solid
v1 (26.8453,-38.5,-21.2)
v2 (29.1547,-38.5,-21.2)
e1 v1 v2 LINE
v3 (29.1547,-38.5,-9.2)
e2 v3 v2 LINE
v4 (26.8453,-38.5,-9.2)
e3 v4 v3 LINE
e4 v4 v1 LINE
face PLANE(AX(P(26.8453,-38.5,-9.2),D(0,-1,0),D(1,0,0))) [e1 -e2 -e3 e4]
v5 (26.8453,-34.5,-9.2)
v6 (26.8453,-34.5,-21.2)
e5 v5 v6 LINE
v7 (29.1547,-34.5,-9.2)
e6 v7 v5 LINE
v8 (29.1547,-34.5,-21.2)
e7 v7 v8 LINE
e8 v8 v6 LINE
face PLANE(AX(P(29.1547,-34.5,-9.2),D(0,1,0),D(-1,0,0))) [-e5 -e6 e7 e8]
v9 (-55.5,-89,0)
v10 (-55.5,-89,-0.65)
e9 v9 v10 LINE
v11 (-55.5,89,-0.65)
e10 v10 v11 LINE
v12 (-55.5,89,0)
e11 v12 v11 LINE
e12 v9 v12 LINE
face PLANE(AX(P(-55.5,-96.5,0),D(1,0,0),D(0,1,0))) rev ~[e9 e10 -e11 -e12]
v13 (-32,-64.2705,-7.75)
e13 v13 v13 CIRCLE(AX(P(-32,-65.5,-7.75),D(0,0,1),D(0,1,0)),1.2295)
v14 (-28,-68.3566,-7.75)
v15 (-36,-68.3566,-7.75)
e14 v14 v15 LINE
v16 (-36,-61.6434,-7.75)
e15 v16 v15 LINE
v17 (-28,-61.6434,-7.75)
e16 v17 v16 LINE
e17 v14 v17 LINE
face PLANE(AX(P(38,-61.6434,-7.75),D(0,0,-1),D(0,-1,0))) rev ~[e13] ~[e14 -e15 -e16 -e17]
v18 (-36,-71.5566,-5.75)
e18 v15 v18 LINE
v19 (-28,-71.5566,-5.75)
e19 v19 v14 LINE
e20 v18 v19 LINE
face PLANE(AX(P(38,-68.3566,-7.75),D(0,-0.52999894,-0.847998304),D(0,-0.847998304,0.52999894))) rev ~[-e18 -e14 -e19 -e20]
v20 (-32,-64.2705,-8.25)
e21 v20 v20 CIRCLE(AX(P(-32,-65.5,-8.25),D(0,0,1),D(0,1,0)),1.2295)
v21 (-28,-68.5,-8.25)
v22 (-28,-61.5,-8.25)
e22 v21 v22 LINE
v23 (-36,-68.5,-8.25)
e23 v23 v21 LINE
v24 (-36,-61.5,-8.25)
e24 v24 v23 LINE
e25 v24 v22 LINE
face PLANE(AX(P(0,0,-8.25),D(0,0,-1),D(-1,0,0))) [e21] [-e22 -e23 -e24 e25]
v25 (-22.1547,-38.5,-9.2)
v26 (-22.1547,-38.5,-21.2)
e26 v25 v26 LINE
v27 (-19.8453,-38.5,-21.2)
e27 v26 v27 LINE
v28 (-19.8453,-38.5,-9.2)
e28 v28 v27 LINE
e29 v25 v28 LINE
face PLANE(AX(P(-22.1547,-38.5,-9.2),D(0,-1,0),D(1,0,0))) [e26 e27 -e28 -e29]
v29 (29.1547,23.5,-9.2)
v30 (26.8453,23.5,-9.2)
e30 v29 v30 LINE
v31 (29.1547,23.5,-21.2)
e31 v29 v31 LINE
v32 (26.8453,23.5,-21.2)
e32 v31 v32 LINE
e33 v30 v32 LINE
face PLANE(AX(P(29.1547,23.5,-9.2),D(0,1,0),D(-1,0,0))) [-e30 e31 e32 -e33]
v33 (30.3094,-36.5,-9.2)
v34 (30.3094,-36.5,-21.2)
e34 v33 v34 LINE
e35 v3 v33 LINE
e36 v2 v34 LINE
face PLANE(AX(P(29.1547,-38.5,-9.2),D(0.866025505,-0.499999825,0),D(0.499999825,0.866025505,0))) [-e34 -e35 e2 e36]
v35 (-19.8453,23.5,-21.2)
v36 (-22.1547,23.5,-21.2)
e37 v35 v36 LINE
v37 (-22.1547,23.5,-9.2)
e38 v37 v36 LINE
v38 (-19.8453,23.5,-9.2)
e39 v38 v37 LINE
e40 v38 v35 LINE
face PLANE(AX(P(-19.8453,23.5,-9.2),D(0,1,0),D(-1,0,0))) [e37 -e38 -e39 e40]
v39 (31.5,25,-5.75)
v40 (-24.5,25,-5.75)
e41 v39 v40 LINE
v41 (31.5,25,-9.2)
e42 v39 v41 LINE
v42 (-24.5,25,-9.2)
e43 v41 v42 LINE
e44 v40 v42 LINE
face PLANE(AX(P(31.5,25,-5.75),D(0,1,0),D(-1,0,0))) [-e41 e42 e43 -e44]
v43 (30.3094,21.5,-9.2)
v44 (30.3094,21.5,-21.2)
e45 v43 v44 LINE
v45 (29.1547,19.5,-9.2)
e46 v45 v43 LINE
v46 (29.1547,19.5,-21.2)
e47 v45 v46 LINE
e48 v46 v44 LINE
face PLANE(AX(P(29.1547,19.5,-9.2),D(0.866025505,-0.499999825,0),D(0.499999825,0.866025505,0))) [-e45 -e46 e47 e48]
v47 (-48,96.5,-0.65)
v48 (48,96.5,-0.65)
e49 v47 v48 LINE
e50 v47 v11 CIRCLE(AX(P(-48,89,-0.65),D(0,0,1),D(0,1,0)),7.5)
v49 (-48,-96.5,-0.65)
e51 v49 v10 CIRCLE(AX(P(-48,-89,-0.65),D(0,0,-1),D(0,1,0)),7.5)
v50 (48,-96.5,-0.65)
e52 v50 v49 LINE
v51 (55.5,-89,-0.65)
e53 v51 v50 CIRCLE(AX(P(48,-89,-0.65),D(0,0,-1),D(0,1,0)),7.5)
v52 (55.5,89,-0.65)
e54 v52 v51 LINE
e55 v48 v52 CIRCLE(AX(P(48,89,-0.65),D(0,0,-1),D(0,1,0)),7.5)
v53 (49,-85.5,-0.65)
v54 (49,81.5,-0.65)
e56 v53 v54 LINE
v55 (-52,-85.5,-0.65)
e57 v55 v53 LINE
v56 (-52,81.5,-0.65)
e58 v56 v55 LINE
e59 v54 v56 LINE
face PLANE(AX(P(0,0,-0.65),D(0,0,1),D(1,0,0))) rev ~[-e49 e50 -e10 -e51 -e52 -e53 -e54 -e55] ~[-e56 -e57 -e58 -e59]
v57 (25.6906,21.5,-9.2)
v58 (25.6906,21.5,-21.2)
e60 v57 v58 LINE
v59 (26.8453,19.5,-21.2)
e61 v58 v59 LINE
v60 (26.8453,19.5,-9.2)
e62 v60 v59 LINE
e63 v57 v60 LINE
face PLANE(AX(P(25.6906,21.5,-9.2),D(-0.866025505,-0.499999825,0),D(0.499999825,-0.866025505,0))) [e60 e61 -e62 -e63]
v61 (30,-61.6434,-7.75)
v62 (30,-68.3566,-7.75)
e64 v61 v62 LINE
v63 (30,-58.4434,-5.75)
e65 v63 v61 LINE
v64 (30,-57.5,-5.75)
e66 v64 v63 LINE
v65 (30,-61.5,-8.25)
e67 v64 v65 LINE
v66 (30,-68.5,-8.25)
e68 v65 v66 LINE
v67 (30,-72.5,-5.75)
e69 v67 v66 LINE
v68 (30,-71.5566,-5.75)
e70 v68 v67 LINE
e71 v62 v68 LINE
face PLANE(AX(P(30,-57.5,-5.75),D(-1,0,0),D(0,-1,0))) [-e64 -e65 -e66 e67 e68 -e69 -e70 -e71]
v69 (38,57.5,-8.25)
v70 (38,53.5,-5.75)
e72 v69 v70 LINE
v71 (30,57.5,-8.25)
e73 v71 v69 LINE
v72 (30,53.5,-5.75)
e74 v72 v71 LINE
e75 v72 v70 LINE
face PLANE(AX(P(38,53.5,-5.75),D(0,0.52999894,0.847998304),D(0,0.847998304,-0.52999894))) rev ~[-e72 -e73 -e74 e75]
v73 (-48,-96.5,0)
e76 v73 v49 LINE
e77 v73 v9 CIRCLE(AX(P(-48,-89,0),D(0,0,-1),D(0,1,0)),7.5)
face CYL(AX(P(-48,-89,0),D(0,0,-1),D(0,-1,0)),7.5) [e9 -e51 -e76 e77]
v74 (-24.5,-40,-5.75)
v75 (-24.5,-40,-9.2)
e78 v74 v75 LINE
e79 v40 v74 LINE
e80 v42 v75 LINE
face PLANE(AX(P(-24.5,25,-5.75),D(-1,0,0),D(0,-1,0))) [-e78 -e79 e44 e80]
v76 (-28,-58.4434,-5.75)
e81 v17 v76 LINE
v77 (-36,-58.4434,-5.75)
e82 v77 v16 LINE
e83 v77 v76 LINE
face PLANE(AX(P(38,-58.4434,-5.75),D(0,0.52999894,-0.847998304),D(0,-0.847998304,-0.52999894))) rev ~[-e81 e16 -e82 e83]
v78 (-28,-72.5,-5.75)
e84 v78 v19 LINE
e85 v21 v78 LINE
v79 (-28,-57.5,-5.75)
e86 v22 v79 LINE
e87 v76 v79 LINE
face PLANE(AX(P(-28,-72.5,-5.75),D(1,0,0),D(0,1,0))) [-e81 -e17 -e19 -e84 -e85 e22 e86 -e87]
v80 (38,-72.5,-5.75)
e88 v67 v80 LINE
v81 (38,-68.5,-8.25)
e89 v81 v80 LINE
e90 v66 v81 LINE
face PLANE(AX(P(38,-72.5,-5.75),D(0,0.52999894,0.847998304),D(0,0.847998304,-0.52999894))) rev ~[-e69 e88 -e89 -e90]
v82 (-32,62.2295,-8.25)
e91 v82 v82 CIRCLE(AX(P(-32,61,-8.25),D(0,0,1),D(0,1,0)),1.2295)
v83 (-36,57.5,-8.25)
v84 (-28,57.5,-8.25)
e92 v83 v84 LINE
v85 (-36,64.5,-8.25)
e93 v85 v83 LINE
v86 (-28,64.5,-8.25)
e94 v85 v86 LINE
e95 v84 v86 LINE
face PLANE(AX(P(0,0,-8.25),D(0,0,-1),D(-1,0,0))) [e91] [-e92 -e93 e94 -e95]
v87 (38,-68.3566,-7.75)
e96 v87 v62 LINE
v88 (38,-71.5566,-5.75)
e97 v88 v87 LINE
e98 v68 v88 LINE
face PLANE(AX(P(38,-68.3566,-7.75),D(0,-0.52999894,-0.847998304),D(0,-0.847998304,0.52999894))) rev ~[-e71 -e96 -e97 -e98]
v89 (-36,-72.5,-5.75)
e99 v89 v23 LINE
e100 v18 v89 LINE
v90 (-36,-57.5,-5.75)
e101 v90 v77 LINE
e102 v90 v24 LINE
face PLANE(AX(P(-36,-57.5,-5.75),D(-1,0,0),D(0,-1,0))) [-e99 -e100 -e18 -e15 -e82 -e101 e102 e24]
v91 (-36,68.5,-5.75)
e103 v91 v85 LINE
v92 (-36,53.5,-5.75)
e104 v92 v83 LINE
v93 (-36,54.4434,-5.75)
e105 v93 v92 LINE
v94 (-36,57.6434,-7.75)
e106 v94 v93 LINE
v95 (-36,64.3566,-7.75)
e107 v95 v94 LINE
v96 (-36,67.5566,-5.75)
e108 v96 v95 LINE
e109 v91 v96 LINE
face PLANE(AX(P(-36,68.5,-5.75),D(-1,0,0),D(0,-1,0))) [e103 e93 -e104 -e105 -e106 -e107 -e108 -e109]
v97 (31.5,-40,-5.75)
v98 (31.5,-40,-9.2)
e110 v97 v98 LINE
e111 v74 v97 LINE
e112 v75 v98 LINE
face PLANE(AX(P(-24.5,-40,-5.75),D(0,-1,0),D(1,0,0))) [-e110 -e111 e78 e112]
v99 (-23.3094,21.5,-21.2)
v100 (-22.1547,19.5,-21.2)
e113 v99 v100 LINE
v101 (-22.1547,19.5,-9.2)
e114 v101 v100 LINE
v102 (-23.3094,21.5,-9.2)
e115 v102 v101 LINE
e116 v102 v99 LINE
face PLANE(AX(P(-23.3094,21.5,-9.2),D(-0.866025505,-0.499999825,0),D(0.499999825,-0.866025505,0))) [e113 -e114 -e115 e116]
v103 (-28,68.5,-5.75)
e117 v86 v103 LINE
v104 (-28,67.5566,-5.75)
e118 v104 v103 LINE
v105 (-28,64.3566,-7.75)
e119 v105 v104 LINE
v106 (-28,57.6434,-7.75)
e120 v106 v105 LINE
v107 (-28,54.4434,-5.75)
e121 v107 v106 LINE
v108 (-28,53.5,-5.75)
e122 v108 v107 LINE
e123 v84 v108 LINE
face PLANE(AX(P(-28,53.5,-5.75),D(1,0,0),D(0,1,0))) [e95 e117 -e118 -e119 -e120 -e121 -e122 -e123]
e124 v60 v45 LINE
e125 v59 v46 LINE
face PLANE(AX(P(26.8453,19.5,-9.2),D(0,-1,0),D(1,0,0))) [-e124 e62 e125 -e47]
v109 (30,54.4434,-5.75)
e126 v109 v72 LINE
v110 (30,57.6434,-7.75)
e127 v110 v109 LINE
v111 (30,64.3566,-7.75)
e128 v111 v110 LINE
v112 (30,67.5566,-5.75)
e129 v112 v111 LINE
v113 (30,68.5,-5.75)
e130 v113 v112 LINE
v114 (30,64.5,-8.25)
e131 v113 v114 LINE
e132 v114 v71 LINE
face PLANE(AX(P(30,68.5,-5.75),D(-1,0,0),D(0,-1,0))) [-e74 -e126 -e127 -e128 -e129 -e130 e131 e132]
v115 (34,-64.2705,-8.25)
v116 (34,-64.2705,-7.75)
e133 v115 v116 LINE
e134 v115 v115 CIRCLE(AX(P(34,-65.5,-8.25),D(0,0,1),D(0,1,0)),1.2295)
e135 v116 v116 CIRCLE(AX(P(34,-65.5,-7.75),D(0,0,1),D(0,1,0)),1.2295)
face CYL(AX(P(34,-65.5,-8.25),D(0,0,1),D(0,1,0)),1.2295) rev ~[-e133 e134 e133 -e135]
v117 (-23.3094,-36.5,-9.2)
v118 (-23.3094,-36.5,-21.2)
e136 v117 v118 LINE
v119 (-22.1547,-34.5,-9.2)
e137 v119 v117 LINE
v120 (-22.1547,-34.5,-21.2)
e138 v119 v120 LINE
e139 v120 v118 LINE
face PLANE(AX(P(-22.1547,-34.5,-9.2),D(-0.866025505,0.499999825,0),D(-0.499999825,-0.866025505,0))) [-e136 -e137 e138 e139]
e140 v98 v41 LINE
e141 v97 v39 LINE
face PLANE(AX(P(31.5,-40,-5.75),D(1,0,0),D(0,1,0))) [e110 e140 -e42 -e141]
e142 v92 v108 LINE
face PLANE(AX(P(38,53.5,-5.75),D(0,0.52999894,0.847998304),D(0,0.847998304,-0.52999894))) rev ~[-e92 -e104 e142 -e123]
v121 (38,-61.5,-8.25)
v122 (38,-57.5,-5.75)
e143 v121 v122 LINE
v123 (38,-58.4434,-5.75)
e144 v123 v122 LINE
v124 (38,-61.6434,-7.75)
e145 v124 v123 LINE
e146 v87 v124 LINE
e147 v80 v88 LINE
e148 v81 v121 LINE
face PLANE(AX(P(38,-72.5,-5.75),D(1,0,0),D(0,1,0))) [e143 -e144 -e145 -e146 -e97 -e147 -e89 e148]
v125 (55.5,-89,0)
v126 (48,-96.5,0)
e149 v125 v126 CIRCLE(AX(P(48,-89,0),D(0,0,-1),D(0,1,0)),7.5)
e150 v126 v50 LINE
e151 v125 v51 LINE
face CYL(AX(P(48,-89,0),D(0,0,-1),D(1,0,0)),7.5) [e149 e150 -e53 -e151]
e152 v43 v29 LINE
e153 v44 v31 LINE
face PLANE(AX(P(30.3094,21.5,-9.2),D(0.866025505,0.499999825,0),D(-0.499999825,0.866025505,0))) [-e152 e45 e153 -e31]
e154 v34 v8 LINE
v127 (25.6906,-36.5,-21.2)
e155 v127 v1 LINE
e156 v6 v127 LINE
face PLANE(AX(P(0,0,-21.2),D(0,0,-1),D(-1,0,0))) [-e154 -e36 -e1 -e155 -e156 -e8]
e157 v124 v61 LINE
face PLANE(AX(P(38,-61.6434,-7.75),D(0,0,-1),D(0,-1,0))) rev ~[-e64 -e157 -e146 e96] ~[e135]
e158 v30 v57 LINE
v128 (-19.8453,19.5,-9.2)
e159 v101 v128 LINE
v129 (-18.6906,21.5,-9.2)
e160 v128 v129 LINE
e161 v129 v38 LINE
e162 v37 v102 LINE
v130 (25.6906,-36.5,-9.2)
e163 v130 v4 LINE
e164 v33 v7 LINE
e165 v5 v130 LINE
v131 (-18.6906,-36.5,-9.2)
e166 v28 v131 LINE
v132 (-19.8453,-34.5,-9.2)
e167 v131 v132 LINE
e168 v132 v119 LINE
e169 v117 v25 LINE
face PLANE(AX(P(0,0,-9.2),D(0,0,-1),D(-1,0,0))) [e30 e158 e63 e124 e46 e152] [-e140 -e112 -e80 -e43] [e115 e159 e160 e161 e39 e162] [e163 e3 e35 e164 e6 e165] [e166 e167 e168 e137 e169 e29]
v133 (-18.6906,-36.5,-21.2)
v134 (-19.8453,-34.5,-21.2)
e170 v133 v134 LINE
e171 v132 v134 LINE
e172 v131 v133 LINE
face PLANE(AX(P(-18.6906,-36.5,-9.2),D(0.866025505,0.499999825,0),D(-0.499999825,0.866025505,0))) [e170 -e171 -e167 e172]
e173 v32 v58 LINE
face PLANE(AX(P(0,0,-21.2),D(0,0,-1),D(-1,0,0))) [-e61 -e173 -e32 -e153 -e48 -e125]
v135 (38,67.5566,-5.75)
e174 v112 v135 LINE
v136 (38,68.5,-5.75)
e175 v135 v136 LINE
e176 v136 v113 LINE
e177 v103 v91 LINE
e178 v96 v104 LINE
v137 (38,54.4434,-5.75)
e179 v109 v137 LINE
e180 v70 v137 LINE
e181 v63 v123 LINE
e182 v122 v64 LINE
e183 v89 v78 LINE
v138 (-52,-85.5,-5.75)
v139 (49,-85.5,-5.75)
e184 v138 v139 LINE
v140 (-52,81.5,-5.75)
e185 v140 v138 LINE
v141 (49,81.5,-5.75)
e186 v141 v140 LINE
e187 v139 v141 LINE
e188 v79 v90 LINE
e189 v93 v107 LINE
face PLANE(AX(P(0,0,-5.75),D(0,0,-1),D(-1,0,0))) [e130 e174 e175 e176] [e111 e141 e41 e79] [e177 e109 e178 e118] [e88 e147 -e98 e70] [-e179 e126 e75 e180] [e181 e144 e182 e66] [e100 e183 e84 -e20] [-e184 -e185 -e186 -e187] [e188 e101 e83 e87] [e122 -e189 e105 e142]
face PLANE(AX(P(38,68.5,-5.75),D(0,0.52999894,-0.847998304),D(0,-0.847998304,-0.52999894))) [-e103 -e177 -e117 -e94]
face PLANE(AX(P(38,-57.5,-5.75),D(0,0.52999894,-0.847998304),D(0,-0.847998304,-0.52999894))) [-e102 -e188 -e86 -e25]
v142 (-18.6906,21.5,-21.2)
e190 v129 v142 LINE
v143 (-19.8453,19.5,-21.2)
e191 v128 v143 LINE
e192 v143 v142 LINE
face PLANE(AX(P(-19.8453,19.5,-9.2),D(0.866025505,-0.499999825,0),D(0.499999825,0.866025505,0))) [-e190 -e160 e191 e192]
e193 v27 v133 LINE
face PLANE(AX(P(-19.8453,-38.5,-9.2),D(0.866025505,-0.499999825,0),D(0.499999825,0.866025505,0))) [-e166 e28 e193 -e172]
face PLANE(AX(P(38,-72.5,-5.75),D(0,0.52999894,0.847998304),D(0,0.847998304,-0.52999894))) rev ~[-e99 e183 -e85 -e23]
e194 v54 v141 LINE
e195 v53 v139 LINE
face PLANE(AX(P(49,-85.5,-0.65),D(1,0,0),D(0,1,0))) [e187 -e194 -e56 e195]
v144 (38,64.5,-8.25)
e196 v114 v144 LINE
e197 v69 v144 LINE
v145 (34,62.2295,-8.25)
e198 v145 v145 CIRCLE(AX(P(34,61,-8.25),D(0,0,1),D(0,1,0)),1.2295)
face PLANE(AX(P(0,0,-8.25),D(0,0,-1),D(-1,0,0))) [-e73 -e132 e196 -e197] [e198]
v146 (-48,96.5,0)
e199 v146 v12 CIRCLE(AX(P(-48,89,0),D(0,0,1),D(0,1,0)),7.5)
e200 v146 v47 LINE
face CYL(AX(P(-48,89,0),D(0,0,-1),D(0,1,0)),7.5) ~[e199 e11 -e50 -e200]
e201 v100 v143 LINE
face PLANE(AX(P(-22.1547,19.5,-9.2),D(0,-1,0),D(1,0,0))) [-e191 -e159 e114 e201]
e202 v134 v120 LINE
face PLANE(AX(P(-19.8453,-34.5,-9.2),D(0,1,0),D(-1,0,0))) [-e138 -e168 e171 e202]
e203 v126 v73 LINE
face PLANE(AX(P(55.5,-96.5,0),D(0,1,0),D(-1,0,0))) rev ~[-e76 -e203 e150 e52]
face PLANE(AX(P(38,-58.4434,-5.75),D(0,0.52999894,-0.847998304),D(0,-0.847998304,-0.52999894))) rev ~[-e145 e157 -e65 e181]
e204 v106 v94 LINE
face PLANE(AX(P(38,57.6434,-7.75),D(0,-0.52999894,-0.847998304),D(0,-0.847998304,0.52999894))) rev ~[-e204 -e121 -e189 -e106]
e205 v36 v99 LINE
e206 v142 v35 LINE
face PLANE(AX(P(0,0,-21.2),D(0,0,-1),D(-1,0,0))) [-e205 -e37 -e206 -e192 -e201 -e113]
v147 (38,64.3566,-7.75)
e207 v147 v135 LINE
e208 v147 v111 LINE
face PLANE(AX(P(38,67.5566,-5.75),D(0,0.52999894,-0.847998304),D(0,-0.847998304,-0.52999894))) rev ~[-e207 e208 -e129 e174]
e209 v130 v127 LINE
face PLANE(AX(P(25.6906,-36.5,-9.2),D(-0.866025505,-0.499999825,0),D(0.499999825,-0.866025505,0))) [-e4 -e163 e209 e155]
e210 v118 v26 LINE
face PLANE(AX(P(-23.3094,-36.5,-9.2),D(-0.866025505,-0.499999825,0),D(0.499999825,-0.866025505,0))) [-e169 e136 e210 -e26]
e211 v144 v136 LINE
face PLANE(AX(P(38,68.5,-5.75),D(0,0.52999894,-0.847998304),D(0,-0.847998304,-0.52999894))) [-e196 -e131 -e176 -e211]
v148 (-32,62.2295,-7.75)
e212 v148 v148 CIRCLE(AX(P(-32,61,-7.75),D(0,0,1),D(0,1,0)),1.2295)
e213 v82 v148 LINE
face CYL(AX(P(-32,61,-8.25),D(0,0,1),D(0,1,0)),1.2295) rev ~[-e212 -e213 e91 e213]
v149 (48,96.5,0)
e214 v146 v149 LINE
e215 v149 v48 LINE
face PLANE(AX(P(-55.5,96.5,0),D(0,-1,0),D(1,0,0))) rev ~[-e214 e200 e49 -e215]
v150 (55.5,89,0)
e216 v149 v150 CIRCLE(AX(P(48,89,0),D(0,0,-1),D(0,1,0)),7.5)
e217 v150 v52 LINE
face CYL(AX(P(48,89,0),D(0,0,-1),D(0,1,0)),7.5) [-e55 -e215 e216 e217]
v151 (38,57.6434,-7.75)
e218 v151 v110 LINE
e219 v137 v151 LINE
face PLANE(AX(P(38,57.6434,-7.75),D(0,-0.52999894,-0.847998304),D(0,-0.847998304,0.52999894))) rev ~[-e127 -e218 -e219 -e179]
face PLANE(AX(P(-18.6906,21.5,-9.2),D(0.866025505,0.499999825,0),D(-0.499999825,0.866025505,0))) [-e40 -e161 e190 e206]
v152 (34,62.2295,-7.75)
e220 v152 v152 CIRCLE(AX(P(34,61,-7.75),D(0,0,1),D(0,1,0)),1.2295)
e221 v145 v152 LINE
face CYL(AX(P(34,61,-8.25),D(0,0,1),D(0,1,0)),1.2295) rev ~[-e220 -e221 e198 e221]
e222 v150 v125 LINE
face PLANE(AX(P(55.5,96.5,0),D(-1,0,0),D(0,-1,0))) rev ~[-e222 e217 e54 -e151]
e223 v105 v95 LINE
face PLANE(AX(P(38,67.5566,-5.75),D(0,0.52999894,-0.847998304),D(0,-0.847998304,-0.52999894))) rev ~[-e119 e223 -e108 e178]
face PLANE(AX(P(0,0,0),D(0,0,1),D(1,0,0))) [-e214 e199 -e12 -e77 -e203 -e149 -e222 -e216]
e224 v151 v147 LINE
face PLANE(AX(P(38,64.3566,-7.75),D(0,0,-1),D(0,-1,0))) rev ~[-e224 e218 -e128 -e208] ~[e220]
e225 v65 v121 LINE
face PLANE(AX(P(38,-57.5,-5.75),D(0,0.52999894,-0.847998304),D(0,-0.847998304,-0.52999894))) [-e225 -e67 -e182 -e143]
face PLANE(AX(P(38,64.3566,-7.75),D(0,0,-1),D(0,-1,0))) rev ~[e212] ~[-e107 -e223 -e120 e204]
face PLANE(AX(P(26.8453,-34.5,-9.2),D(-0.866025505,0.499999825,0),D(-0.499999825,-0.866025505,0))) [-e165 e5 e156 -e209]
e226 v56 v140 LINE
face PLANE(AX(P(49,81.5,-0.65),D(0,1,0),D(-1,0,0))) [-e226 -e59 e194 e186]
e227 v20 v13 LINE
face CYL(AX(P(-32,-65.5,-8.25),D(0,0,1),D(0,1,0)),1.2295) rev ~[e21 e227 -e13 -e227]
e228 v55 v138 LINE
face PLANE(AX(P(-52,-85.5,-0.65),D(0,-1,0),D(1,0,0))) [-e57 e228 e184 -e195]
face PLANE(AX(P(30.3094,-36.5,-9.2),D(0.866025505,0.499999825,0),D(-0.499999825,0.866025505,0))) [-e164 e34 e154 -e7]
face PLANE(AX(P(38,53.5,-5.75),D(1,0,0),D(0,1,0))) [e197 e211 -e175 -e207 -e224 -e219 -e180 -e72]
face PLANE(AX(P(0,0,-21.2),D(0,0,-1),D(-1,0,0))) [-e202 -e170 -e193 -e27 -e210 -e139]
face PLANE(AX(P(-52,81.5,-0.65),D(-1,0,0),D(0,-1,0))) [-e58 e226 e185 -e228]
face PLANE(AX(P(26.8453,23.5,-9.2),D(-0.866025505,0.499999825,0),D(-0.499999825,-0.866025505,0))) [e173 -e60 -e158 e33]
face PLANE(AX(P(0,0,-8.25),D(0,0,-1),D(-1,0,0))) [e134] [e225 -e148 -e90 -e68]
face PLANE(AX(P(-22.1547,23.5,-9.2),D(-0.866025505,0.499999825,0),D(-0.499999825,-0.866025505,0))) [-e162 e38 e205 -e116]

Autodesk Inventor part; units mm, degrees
ref_plane "YZ Plane" through (0, 0, 0) normal (1, 0, 0) x (0, 1, 0)
ref_plane "XZ Plane" through (0, 0, 0) normal (0, 1, 0) x (-1, 0, 0)
ref_plane "XY Plane" through (0, 0, 0) normal (0, 0, 1) x (1, 0, 0)
sketch "Skizze1" plane through (0, 0, 0) normal (0, 0, 1) x (1, 0, 0)
  line L0 (-55.5, 96.5) -> (55.5, 96.5)
  line L1 (55.5, 96.5) -> (55.5, -96.5)
  line L2 (55.5, -96.5) -> (-55.5, -96.5)
  line L3 (-55.5, -96.5) -> (-55.5, 96.5)
  point P0 (0, 0)
  point P1 (0, 96.5)
  point P2 (-55.5, 0)
  dimension "d0" = 111
  dimension "d1" = 193
extrude "Extrusion1" add sketch "Skizze1" against normal blind 0.65
sketch "Skizze3" plane through (0, 0, 0) normal (0, 0, 1) x (1, 0, 0)
  line L0 (-42.5, 77.5) -> (44.5, 77.5)
  line L1 (44.5, 77.5) -> (44.5, -77.5)
  line L2 (44.5, -77.5) -> (-42.5, -77.5)
  line L3 (-42.5, -77.5) -> (-42.5, 77.5)
  line L4 (55.5, 96.5) -> (-55.5, 96.5) projected
  line L5 (-55.5, -96.5) -> (55.5, -96.5) projected
  line L6 (-55.5, 96.5) -> (-55.5, -96.5) projected
  point P0 (0, 0)
  dimension "d11" = 155
  dimension "d12" = 19
  dimension "d13" = 19
  dimension "d14" = 87
  dimension "d15" = 13
split_face "Trennen1"
fillet "Rundung1" radius 7.5 4 edges at (-55.5, -96.5, -0.325) (55.5, -96.5, -0.325) (55.5, 96.5, -0.325) (-55.5, 96.5, -0.325)
sketch "Skizze2" plane through (0, 0, -0.65) normal (0, 0, -1) x (-1, 0, 0)
  line L0 (-49, 81.5) -> (52, 81.5)
  line L1 (52, 81.5) -> (52, -85.5)
  line L2 (52, -85.5) -> (-49, -85.5)
  line L3 (-49, -85.5) -> (-49, 81.5)
  line L4 (55.5, -96.5) -> (55.5, 96.5) projected
  line L5 (55.5, 96.5) -> (-55.5, 96.5) projected
  point P0 (0, 0)
  dimension "d5" = 101
  dimension "d6" = 167
  dimension "d7" = 3.5
  dimension "d8" = 15
extrude "Extrusion2" add sketch "Skizze2" along normal blind 5.1
sketch "Skizze6" plane through (0, 0, -5.75) normal (0, 0, -1) x (-1, 0, 0)
  line L0 (-38, 68.5) -> (-30, 68.5)
  line L1 (-30, 68.5) -> (-30, 53.5)
  line L2 (-30, 53.5) -> (-38, 53.5)
  line L3 (-38, 53.5) -> (-38, 68.5)
  line L4 (28, 68.5) -> (36, 68.5)
  line L5 (36, 68.5) -> (36, 53.5)
  line L6 (36, 53.5) -> (28, 53.5)
  line L7 (28, 53.5) -> (28, 68.5)
  line L8 (-38, -57.5) -> (-30, -57.5)
  line L9 (-30, -57.5) -> (-30, -72.5)
  line L10 (-30, -72.5) -> (-38, -72.5)
  line L11 (-38, -72.5) -> (-38, -57.5)
  line L12 (28, -57.5) -> (36, -57.5)
  line L13 (36, -57.5) -> (36, -72.5)
  line L14 (36, -72.5) -> (28, -72.5)
  line L15 (28, -72.5) -> (28, -57.5)
  line L16 (-49, 81.5) -> (-49, -85.5) projected
  line L17 (52, 81.5) -> (-49, 81.5) projected
  line L18 (52, -85.5) -> (52, 81.5) projected
  line L19 (-49, -85.5) -> (52, -85.5) projected
  point P0 (0, 0)
  dimension "d35" = 8
  dimension "d36" = 15
  dimension "d37" = 11
  dimension "d38" = 13
  dimension "d39" = 16
  dimension "d40" = 13
extrude "Extrusion5" add sketch "Skizze6" along normal blind 2.5 contours L0 L1 L2 L3 | L4 L5 L6 L7 | L8 L9 L10 L11 | L12 L13 L14 L15
sketch "Skizze7" plane through (0, 0, -8.25) normal (0, 0, -1) x (-1, 0, 0)
  line L0 (-30, 68.5) -> (-38, 68.5) projected
  line L1 (-38, 68.5) -> (-38, 53.5) projected
  point P0 (0, 0)
  point P1 (-34, 61)
  point P2 (32, 61)
  point P3 (32, -65.5)
  point P4 (-34, -65.5)
  point P5 (-34, 68.5)
  point P6 (-38, 61)
  dimension "d43" = 126.5
  dimension "d44" = 66
sketch "Skizze8" plane through (38, 53.5, -5.75) normal (1, 0, 0) x (0, 0, -1)
  line L0 (0, 15) -> (2.5, 15) projected
  line L1 (0, 0) -> (2.5, 0) projected
  line L2 (0, -111) -> (2.5, -111) projected
  line L3 (0, -126) -> (2.5, -126) projected
  line L4 (2.5, -111) -> (2.5, -126) projected
  line L5 (0, -111) -> (2.5, -115)
  line L6 (2.5, -111) -> (2.5, -126) projected
  line L7 (0, -126) -> (2.5, -126) projected
  line L8 (0, -126) -> (2.5, -122)
  line L9 (0, 15) -> (0, 0) projected
  line L10 (0, 0) -> (2.5, 4)
  line L11 (2.5, 0) -> (2.5, 15) projected
  line L12 (0, 15) -> (2.5, 15) projected
  line L13 (0, 15) -> (2.5, 11)
  line L14 (0, 28) -> (0, -139) projected
  line L15 (0, 14.0566) -> (2, 10.8566)
  line L16 (2, 10.8566) -> (2, 4.1434)
  line L17 (2, 4.1434) -> (0, 0.9434)
  line L18 (0, -126) -> (0, -111) projected
  line L19 (0, -111.9434) -> (2, -115.1434)
  line L20 (2, -115.1434) -> (2, -121.8566)
  line L21 (2, -121.8566) -> (0, -125.0566)
  point P0 (-5.75, -53.5)
  point P1 (0, -111.9434)
  point P2 (0, 14.0566)
  point P3 (0, 0.9434)
  dimension "d45" = 7
  dimension "d46" = 0.5
  dimension "d47" = 0.5
  dimension "d48" = 0.5
  dimension "d49" = 0.5
extrude "Extrusion6" cut sketch "Skizze8" along normal through all both and the other way through all contours L2 L4 L5 | L0 L11 L13 | L15 L16 L17 L9 | L11 L1 L10 | L19 L20 L21 L14 | L4 L3 L8
hole "Bohrung1" at (34, 61, -8.25) at (-32, 61, -8.25) at (-32, -65.5, -8.25) at (34, -65.5, -8.25) direction (0, 0, 1) diameter 2.459 depth 0.5 thread size "M3x0.5" class "6H" standard "ISO Metric profile"
sketch "Skizze4" plane through (0, 0, -5.75) normal (0, 0, -1) x (-1, 0, 0)
  line L0 (-31.5, 25) -> (24.5, 25)
  line L1 (24.5, 25) -> (24.5, -40)
  line L2 (24.5, -40) -> (-31.5, -40)
  line L3 (-31.5, -40) -> (-31.5, 25)
  line L4 (-49, -85.5) -> (52, -85.5) projected
  line L5 (-49, 81.5) -> (-49, -85.5) projected
  point P0 (0, 0)
  dimension "d17" = 45.5
  dimension "d18" = 65
  dimension "d19" = 56
  dimension "d20" = 17.5
extrude "Extrusion3" add sketch "Skizze4" along normal blind 3.45
sketch "Skizze5" plane through (0, 0, -9.2) normal (0, 0, -1) x (-1, 0, 0)
  line L0 (-26.8453, -34.5) -> (-25.6906, -36.5)
  line L1 (-25.6906, -36.5) -> (-26.8453, -38.5)
  line L2 (-26.8453, -38.5) -> (-29.1547, -38.5)
  line L3 (-29.1547, -38.5) -> (-30.3094, -36.5)
  line L4 (-30.3094, -36.5) -> (-29.1547, -34.5)
  line L5 (-29.1547, -34.5) -> (-26.8453, -34.5)
  line L6 (-26.8453, 23.5) -> (-25.6906, 21.5)
  line L7 (-25.6906, 21.5) -> (-26.8453, 19.5)
  line L8 (-26.8453, 19.5) -> (-29.1547, 19.5)
  line L9 (-29.1547, 19.5) -> (-30.3094, 21.5)
  line L10 (-30.3094, 21.5) -> (-29.1547, 23.5)
  line L11 (-29.1547, 23.5) -> (-26.8453, 23.5)
  line L12 (22.1547, 23.5) -> (23.3094, 21.5)
  line L13 (23.3094, 21.5) -> (22.1547, 19.5)
  line L14 (22.1547, 19.5) -> (19.8453, 19.5)
  line L15 (19.8453, 19.5) -> (18.6906, 21.5)
  line L16 (18.6906, 21.5) -> (19.8453, 23.5)
  line L17 (19.8453, 23.5) -> (22.1547, 23.5)
  line L18 (22.1547, -34.5) -> (23.3094, -36.5)
  line L19 (23.3094, -36.5) -> (22.1547, -38.5)
  line L20 (22.1547, -38.5) -> (19.8453, -38.5)
  line L21 (19.8453, -38.5) -> (18.6906, -36.5)
  line L22 (18.6906, -36.5) -> (19.8453, -34.5)
  line L23 (19.8453, -34.5) -> (22.1547, -34.5)
  line L24 (24.5, 25) -> (-31.5, 25) projected
  line L25 (-31.5, -40) -> (24.5, -40) projected
  line L26 (24.5, -40) -> (24.5, 25) projected
  line L27 (-31.5, 25) -> (-31.5, -40) projected
  point P0 (0, 0)
  point P1 (-28, -36.5)
  point P2 (-28, 21.5)
  point P3 (21, 21.5)
  point P4 (21, -36.5)
  point P5 (-28, 21.5)
  point P6 (21, 21.5)
  point P7 (21, -36.5)
  point P8 (-28, -36.5)
  dimension "d23" = 4
  dimension "d24" = 4
  dimension "d25" = 4
  dimension "d26" = 4
  dimension "d27" = 49
  dimension "d28" = 58
  dimension "d29" = 65
  dimension "d30" = 3.5
  dimension "d31" = 56
  dimension "d32" = 3.5
extrude "Extrusion4" add sketch "Skizze5" along normal blind 12 contours L0 L1 L2 L3 L4 L5 | L6 L7 L8 L9 L10 L11 | L12 L13 L14 L15 L16 L17 | L18 L19 L20 L21 L22 L23
equation "\"d47\" = d46"
equation "\"d48\" = d47"
equation "\"d49\" = d48"
equation "\"d30\" = -0.5 * d28 + 0.5 * d29"
equation "\"d32\" = -0.5 * d27 + 0.5 * d31"
properties part number "display"
